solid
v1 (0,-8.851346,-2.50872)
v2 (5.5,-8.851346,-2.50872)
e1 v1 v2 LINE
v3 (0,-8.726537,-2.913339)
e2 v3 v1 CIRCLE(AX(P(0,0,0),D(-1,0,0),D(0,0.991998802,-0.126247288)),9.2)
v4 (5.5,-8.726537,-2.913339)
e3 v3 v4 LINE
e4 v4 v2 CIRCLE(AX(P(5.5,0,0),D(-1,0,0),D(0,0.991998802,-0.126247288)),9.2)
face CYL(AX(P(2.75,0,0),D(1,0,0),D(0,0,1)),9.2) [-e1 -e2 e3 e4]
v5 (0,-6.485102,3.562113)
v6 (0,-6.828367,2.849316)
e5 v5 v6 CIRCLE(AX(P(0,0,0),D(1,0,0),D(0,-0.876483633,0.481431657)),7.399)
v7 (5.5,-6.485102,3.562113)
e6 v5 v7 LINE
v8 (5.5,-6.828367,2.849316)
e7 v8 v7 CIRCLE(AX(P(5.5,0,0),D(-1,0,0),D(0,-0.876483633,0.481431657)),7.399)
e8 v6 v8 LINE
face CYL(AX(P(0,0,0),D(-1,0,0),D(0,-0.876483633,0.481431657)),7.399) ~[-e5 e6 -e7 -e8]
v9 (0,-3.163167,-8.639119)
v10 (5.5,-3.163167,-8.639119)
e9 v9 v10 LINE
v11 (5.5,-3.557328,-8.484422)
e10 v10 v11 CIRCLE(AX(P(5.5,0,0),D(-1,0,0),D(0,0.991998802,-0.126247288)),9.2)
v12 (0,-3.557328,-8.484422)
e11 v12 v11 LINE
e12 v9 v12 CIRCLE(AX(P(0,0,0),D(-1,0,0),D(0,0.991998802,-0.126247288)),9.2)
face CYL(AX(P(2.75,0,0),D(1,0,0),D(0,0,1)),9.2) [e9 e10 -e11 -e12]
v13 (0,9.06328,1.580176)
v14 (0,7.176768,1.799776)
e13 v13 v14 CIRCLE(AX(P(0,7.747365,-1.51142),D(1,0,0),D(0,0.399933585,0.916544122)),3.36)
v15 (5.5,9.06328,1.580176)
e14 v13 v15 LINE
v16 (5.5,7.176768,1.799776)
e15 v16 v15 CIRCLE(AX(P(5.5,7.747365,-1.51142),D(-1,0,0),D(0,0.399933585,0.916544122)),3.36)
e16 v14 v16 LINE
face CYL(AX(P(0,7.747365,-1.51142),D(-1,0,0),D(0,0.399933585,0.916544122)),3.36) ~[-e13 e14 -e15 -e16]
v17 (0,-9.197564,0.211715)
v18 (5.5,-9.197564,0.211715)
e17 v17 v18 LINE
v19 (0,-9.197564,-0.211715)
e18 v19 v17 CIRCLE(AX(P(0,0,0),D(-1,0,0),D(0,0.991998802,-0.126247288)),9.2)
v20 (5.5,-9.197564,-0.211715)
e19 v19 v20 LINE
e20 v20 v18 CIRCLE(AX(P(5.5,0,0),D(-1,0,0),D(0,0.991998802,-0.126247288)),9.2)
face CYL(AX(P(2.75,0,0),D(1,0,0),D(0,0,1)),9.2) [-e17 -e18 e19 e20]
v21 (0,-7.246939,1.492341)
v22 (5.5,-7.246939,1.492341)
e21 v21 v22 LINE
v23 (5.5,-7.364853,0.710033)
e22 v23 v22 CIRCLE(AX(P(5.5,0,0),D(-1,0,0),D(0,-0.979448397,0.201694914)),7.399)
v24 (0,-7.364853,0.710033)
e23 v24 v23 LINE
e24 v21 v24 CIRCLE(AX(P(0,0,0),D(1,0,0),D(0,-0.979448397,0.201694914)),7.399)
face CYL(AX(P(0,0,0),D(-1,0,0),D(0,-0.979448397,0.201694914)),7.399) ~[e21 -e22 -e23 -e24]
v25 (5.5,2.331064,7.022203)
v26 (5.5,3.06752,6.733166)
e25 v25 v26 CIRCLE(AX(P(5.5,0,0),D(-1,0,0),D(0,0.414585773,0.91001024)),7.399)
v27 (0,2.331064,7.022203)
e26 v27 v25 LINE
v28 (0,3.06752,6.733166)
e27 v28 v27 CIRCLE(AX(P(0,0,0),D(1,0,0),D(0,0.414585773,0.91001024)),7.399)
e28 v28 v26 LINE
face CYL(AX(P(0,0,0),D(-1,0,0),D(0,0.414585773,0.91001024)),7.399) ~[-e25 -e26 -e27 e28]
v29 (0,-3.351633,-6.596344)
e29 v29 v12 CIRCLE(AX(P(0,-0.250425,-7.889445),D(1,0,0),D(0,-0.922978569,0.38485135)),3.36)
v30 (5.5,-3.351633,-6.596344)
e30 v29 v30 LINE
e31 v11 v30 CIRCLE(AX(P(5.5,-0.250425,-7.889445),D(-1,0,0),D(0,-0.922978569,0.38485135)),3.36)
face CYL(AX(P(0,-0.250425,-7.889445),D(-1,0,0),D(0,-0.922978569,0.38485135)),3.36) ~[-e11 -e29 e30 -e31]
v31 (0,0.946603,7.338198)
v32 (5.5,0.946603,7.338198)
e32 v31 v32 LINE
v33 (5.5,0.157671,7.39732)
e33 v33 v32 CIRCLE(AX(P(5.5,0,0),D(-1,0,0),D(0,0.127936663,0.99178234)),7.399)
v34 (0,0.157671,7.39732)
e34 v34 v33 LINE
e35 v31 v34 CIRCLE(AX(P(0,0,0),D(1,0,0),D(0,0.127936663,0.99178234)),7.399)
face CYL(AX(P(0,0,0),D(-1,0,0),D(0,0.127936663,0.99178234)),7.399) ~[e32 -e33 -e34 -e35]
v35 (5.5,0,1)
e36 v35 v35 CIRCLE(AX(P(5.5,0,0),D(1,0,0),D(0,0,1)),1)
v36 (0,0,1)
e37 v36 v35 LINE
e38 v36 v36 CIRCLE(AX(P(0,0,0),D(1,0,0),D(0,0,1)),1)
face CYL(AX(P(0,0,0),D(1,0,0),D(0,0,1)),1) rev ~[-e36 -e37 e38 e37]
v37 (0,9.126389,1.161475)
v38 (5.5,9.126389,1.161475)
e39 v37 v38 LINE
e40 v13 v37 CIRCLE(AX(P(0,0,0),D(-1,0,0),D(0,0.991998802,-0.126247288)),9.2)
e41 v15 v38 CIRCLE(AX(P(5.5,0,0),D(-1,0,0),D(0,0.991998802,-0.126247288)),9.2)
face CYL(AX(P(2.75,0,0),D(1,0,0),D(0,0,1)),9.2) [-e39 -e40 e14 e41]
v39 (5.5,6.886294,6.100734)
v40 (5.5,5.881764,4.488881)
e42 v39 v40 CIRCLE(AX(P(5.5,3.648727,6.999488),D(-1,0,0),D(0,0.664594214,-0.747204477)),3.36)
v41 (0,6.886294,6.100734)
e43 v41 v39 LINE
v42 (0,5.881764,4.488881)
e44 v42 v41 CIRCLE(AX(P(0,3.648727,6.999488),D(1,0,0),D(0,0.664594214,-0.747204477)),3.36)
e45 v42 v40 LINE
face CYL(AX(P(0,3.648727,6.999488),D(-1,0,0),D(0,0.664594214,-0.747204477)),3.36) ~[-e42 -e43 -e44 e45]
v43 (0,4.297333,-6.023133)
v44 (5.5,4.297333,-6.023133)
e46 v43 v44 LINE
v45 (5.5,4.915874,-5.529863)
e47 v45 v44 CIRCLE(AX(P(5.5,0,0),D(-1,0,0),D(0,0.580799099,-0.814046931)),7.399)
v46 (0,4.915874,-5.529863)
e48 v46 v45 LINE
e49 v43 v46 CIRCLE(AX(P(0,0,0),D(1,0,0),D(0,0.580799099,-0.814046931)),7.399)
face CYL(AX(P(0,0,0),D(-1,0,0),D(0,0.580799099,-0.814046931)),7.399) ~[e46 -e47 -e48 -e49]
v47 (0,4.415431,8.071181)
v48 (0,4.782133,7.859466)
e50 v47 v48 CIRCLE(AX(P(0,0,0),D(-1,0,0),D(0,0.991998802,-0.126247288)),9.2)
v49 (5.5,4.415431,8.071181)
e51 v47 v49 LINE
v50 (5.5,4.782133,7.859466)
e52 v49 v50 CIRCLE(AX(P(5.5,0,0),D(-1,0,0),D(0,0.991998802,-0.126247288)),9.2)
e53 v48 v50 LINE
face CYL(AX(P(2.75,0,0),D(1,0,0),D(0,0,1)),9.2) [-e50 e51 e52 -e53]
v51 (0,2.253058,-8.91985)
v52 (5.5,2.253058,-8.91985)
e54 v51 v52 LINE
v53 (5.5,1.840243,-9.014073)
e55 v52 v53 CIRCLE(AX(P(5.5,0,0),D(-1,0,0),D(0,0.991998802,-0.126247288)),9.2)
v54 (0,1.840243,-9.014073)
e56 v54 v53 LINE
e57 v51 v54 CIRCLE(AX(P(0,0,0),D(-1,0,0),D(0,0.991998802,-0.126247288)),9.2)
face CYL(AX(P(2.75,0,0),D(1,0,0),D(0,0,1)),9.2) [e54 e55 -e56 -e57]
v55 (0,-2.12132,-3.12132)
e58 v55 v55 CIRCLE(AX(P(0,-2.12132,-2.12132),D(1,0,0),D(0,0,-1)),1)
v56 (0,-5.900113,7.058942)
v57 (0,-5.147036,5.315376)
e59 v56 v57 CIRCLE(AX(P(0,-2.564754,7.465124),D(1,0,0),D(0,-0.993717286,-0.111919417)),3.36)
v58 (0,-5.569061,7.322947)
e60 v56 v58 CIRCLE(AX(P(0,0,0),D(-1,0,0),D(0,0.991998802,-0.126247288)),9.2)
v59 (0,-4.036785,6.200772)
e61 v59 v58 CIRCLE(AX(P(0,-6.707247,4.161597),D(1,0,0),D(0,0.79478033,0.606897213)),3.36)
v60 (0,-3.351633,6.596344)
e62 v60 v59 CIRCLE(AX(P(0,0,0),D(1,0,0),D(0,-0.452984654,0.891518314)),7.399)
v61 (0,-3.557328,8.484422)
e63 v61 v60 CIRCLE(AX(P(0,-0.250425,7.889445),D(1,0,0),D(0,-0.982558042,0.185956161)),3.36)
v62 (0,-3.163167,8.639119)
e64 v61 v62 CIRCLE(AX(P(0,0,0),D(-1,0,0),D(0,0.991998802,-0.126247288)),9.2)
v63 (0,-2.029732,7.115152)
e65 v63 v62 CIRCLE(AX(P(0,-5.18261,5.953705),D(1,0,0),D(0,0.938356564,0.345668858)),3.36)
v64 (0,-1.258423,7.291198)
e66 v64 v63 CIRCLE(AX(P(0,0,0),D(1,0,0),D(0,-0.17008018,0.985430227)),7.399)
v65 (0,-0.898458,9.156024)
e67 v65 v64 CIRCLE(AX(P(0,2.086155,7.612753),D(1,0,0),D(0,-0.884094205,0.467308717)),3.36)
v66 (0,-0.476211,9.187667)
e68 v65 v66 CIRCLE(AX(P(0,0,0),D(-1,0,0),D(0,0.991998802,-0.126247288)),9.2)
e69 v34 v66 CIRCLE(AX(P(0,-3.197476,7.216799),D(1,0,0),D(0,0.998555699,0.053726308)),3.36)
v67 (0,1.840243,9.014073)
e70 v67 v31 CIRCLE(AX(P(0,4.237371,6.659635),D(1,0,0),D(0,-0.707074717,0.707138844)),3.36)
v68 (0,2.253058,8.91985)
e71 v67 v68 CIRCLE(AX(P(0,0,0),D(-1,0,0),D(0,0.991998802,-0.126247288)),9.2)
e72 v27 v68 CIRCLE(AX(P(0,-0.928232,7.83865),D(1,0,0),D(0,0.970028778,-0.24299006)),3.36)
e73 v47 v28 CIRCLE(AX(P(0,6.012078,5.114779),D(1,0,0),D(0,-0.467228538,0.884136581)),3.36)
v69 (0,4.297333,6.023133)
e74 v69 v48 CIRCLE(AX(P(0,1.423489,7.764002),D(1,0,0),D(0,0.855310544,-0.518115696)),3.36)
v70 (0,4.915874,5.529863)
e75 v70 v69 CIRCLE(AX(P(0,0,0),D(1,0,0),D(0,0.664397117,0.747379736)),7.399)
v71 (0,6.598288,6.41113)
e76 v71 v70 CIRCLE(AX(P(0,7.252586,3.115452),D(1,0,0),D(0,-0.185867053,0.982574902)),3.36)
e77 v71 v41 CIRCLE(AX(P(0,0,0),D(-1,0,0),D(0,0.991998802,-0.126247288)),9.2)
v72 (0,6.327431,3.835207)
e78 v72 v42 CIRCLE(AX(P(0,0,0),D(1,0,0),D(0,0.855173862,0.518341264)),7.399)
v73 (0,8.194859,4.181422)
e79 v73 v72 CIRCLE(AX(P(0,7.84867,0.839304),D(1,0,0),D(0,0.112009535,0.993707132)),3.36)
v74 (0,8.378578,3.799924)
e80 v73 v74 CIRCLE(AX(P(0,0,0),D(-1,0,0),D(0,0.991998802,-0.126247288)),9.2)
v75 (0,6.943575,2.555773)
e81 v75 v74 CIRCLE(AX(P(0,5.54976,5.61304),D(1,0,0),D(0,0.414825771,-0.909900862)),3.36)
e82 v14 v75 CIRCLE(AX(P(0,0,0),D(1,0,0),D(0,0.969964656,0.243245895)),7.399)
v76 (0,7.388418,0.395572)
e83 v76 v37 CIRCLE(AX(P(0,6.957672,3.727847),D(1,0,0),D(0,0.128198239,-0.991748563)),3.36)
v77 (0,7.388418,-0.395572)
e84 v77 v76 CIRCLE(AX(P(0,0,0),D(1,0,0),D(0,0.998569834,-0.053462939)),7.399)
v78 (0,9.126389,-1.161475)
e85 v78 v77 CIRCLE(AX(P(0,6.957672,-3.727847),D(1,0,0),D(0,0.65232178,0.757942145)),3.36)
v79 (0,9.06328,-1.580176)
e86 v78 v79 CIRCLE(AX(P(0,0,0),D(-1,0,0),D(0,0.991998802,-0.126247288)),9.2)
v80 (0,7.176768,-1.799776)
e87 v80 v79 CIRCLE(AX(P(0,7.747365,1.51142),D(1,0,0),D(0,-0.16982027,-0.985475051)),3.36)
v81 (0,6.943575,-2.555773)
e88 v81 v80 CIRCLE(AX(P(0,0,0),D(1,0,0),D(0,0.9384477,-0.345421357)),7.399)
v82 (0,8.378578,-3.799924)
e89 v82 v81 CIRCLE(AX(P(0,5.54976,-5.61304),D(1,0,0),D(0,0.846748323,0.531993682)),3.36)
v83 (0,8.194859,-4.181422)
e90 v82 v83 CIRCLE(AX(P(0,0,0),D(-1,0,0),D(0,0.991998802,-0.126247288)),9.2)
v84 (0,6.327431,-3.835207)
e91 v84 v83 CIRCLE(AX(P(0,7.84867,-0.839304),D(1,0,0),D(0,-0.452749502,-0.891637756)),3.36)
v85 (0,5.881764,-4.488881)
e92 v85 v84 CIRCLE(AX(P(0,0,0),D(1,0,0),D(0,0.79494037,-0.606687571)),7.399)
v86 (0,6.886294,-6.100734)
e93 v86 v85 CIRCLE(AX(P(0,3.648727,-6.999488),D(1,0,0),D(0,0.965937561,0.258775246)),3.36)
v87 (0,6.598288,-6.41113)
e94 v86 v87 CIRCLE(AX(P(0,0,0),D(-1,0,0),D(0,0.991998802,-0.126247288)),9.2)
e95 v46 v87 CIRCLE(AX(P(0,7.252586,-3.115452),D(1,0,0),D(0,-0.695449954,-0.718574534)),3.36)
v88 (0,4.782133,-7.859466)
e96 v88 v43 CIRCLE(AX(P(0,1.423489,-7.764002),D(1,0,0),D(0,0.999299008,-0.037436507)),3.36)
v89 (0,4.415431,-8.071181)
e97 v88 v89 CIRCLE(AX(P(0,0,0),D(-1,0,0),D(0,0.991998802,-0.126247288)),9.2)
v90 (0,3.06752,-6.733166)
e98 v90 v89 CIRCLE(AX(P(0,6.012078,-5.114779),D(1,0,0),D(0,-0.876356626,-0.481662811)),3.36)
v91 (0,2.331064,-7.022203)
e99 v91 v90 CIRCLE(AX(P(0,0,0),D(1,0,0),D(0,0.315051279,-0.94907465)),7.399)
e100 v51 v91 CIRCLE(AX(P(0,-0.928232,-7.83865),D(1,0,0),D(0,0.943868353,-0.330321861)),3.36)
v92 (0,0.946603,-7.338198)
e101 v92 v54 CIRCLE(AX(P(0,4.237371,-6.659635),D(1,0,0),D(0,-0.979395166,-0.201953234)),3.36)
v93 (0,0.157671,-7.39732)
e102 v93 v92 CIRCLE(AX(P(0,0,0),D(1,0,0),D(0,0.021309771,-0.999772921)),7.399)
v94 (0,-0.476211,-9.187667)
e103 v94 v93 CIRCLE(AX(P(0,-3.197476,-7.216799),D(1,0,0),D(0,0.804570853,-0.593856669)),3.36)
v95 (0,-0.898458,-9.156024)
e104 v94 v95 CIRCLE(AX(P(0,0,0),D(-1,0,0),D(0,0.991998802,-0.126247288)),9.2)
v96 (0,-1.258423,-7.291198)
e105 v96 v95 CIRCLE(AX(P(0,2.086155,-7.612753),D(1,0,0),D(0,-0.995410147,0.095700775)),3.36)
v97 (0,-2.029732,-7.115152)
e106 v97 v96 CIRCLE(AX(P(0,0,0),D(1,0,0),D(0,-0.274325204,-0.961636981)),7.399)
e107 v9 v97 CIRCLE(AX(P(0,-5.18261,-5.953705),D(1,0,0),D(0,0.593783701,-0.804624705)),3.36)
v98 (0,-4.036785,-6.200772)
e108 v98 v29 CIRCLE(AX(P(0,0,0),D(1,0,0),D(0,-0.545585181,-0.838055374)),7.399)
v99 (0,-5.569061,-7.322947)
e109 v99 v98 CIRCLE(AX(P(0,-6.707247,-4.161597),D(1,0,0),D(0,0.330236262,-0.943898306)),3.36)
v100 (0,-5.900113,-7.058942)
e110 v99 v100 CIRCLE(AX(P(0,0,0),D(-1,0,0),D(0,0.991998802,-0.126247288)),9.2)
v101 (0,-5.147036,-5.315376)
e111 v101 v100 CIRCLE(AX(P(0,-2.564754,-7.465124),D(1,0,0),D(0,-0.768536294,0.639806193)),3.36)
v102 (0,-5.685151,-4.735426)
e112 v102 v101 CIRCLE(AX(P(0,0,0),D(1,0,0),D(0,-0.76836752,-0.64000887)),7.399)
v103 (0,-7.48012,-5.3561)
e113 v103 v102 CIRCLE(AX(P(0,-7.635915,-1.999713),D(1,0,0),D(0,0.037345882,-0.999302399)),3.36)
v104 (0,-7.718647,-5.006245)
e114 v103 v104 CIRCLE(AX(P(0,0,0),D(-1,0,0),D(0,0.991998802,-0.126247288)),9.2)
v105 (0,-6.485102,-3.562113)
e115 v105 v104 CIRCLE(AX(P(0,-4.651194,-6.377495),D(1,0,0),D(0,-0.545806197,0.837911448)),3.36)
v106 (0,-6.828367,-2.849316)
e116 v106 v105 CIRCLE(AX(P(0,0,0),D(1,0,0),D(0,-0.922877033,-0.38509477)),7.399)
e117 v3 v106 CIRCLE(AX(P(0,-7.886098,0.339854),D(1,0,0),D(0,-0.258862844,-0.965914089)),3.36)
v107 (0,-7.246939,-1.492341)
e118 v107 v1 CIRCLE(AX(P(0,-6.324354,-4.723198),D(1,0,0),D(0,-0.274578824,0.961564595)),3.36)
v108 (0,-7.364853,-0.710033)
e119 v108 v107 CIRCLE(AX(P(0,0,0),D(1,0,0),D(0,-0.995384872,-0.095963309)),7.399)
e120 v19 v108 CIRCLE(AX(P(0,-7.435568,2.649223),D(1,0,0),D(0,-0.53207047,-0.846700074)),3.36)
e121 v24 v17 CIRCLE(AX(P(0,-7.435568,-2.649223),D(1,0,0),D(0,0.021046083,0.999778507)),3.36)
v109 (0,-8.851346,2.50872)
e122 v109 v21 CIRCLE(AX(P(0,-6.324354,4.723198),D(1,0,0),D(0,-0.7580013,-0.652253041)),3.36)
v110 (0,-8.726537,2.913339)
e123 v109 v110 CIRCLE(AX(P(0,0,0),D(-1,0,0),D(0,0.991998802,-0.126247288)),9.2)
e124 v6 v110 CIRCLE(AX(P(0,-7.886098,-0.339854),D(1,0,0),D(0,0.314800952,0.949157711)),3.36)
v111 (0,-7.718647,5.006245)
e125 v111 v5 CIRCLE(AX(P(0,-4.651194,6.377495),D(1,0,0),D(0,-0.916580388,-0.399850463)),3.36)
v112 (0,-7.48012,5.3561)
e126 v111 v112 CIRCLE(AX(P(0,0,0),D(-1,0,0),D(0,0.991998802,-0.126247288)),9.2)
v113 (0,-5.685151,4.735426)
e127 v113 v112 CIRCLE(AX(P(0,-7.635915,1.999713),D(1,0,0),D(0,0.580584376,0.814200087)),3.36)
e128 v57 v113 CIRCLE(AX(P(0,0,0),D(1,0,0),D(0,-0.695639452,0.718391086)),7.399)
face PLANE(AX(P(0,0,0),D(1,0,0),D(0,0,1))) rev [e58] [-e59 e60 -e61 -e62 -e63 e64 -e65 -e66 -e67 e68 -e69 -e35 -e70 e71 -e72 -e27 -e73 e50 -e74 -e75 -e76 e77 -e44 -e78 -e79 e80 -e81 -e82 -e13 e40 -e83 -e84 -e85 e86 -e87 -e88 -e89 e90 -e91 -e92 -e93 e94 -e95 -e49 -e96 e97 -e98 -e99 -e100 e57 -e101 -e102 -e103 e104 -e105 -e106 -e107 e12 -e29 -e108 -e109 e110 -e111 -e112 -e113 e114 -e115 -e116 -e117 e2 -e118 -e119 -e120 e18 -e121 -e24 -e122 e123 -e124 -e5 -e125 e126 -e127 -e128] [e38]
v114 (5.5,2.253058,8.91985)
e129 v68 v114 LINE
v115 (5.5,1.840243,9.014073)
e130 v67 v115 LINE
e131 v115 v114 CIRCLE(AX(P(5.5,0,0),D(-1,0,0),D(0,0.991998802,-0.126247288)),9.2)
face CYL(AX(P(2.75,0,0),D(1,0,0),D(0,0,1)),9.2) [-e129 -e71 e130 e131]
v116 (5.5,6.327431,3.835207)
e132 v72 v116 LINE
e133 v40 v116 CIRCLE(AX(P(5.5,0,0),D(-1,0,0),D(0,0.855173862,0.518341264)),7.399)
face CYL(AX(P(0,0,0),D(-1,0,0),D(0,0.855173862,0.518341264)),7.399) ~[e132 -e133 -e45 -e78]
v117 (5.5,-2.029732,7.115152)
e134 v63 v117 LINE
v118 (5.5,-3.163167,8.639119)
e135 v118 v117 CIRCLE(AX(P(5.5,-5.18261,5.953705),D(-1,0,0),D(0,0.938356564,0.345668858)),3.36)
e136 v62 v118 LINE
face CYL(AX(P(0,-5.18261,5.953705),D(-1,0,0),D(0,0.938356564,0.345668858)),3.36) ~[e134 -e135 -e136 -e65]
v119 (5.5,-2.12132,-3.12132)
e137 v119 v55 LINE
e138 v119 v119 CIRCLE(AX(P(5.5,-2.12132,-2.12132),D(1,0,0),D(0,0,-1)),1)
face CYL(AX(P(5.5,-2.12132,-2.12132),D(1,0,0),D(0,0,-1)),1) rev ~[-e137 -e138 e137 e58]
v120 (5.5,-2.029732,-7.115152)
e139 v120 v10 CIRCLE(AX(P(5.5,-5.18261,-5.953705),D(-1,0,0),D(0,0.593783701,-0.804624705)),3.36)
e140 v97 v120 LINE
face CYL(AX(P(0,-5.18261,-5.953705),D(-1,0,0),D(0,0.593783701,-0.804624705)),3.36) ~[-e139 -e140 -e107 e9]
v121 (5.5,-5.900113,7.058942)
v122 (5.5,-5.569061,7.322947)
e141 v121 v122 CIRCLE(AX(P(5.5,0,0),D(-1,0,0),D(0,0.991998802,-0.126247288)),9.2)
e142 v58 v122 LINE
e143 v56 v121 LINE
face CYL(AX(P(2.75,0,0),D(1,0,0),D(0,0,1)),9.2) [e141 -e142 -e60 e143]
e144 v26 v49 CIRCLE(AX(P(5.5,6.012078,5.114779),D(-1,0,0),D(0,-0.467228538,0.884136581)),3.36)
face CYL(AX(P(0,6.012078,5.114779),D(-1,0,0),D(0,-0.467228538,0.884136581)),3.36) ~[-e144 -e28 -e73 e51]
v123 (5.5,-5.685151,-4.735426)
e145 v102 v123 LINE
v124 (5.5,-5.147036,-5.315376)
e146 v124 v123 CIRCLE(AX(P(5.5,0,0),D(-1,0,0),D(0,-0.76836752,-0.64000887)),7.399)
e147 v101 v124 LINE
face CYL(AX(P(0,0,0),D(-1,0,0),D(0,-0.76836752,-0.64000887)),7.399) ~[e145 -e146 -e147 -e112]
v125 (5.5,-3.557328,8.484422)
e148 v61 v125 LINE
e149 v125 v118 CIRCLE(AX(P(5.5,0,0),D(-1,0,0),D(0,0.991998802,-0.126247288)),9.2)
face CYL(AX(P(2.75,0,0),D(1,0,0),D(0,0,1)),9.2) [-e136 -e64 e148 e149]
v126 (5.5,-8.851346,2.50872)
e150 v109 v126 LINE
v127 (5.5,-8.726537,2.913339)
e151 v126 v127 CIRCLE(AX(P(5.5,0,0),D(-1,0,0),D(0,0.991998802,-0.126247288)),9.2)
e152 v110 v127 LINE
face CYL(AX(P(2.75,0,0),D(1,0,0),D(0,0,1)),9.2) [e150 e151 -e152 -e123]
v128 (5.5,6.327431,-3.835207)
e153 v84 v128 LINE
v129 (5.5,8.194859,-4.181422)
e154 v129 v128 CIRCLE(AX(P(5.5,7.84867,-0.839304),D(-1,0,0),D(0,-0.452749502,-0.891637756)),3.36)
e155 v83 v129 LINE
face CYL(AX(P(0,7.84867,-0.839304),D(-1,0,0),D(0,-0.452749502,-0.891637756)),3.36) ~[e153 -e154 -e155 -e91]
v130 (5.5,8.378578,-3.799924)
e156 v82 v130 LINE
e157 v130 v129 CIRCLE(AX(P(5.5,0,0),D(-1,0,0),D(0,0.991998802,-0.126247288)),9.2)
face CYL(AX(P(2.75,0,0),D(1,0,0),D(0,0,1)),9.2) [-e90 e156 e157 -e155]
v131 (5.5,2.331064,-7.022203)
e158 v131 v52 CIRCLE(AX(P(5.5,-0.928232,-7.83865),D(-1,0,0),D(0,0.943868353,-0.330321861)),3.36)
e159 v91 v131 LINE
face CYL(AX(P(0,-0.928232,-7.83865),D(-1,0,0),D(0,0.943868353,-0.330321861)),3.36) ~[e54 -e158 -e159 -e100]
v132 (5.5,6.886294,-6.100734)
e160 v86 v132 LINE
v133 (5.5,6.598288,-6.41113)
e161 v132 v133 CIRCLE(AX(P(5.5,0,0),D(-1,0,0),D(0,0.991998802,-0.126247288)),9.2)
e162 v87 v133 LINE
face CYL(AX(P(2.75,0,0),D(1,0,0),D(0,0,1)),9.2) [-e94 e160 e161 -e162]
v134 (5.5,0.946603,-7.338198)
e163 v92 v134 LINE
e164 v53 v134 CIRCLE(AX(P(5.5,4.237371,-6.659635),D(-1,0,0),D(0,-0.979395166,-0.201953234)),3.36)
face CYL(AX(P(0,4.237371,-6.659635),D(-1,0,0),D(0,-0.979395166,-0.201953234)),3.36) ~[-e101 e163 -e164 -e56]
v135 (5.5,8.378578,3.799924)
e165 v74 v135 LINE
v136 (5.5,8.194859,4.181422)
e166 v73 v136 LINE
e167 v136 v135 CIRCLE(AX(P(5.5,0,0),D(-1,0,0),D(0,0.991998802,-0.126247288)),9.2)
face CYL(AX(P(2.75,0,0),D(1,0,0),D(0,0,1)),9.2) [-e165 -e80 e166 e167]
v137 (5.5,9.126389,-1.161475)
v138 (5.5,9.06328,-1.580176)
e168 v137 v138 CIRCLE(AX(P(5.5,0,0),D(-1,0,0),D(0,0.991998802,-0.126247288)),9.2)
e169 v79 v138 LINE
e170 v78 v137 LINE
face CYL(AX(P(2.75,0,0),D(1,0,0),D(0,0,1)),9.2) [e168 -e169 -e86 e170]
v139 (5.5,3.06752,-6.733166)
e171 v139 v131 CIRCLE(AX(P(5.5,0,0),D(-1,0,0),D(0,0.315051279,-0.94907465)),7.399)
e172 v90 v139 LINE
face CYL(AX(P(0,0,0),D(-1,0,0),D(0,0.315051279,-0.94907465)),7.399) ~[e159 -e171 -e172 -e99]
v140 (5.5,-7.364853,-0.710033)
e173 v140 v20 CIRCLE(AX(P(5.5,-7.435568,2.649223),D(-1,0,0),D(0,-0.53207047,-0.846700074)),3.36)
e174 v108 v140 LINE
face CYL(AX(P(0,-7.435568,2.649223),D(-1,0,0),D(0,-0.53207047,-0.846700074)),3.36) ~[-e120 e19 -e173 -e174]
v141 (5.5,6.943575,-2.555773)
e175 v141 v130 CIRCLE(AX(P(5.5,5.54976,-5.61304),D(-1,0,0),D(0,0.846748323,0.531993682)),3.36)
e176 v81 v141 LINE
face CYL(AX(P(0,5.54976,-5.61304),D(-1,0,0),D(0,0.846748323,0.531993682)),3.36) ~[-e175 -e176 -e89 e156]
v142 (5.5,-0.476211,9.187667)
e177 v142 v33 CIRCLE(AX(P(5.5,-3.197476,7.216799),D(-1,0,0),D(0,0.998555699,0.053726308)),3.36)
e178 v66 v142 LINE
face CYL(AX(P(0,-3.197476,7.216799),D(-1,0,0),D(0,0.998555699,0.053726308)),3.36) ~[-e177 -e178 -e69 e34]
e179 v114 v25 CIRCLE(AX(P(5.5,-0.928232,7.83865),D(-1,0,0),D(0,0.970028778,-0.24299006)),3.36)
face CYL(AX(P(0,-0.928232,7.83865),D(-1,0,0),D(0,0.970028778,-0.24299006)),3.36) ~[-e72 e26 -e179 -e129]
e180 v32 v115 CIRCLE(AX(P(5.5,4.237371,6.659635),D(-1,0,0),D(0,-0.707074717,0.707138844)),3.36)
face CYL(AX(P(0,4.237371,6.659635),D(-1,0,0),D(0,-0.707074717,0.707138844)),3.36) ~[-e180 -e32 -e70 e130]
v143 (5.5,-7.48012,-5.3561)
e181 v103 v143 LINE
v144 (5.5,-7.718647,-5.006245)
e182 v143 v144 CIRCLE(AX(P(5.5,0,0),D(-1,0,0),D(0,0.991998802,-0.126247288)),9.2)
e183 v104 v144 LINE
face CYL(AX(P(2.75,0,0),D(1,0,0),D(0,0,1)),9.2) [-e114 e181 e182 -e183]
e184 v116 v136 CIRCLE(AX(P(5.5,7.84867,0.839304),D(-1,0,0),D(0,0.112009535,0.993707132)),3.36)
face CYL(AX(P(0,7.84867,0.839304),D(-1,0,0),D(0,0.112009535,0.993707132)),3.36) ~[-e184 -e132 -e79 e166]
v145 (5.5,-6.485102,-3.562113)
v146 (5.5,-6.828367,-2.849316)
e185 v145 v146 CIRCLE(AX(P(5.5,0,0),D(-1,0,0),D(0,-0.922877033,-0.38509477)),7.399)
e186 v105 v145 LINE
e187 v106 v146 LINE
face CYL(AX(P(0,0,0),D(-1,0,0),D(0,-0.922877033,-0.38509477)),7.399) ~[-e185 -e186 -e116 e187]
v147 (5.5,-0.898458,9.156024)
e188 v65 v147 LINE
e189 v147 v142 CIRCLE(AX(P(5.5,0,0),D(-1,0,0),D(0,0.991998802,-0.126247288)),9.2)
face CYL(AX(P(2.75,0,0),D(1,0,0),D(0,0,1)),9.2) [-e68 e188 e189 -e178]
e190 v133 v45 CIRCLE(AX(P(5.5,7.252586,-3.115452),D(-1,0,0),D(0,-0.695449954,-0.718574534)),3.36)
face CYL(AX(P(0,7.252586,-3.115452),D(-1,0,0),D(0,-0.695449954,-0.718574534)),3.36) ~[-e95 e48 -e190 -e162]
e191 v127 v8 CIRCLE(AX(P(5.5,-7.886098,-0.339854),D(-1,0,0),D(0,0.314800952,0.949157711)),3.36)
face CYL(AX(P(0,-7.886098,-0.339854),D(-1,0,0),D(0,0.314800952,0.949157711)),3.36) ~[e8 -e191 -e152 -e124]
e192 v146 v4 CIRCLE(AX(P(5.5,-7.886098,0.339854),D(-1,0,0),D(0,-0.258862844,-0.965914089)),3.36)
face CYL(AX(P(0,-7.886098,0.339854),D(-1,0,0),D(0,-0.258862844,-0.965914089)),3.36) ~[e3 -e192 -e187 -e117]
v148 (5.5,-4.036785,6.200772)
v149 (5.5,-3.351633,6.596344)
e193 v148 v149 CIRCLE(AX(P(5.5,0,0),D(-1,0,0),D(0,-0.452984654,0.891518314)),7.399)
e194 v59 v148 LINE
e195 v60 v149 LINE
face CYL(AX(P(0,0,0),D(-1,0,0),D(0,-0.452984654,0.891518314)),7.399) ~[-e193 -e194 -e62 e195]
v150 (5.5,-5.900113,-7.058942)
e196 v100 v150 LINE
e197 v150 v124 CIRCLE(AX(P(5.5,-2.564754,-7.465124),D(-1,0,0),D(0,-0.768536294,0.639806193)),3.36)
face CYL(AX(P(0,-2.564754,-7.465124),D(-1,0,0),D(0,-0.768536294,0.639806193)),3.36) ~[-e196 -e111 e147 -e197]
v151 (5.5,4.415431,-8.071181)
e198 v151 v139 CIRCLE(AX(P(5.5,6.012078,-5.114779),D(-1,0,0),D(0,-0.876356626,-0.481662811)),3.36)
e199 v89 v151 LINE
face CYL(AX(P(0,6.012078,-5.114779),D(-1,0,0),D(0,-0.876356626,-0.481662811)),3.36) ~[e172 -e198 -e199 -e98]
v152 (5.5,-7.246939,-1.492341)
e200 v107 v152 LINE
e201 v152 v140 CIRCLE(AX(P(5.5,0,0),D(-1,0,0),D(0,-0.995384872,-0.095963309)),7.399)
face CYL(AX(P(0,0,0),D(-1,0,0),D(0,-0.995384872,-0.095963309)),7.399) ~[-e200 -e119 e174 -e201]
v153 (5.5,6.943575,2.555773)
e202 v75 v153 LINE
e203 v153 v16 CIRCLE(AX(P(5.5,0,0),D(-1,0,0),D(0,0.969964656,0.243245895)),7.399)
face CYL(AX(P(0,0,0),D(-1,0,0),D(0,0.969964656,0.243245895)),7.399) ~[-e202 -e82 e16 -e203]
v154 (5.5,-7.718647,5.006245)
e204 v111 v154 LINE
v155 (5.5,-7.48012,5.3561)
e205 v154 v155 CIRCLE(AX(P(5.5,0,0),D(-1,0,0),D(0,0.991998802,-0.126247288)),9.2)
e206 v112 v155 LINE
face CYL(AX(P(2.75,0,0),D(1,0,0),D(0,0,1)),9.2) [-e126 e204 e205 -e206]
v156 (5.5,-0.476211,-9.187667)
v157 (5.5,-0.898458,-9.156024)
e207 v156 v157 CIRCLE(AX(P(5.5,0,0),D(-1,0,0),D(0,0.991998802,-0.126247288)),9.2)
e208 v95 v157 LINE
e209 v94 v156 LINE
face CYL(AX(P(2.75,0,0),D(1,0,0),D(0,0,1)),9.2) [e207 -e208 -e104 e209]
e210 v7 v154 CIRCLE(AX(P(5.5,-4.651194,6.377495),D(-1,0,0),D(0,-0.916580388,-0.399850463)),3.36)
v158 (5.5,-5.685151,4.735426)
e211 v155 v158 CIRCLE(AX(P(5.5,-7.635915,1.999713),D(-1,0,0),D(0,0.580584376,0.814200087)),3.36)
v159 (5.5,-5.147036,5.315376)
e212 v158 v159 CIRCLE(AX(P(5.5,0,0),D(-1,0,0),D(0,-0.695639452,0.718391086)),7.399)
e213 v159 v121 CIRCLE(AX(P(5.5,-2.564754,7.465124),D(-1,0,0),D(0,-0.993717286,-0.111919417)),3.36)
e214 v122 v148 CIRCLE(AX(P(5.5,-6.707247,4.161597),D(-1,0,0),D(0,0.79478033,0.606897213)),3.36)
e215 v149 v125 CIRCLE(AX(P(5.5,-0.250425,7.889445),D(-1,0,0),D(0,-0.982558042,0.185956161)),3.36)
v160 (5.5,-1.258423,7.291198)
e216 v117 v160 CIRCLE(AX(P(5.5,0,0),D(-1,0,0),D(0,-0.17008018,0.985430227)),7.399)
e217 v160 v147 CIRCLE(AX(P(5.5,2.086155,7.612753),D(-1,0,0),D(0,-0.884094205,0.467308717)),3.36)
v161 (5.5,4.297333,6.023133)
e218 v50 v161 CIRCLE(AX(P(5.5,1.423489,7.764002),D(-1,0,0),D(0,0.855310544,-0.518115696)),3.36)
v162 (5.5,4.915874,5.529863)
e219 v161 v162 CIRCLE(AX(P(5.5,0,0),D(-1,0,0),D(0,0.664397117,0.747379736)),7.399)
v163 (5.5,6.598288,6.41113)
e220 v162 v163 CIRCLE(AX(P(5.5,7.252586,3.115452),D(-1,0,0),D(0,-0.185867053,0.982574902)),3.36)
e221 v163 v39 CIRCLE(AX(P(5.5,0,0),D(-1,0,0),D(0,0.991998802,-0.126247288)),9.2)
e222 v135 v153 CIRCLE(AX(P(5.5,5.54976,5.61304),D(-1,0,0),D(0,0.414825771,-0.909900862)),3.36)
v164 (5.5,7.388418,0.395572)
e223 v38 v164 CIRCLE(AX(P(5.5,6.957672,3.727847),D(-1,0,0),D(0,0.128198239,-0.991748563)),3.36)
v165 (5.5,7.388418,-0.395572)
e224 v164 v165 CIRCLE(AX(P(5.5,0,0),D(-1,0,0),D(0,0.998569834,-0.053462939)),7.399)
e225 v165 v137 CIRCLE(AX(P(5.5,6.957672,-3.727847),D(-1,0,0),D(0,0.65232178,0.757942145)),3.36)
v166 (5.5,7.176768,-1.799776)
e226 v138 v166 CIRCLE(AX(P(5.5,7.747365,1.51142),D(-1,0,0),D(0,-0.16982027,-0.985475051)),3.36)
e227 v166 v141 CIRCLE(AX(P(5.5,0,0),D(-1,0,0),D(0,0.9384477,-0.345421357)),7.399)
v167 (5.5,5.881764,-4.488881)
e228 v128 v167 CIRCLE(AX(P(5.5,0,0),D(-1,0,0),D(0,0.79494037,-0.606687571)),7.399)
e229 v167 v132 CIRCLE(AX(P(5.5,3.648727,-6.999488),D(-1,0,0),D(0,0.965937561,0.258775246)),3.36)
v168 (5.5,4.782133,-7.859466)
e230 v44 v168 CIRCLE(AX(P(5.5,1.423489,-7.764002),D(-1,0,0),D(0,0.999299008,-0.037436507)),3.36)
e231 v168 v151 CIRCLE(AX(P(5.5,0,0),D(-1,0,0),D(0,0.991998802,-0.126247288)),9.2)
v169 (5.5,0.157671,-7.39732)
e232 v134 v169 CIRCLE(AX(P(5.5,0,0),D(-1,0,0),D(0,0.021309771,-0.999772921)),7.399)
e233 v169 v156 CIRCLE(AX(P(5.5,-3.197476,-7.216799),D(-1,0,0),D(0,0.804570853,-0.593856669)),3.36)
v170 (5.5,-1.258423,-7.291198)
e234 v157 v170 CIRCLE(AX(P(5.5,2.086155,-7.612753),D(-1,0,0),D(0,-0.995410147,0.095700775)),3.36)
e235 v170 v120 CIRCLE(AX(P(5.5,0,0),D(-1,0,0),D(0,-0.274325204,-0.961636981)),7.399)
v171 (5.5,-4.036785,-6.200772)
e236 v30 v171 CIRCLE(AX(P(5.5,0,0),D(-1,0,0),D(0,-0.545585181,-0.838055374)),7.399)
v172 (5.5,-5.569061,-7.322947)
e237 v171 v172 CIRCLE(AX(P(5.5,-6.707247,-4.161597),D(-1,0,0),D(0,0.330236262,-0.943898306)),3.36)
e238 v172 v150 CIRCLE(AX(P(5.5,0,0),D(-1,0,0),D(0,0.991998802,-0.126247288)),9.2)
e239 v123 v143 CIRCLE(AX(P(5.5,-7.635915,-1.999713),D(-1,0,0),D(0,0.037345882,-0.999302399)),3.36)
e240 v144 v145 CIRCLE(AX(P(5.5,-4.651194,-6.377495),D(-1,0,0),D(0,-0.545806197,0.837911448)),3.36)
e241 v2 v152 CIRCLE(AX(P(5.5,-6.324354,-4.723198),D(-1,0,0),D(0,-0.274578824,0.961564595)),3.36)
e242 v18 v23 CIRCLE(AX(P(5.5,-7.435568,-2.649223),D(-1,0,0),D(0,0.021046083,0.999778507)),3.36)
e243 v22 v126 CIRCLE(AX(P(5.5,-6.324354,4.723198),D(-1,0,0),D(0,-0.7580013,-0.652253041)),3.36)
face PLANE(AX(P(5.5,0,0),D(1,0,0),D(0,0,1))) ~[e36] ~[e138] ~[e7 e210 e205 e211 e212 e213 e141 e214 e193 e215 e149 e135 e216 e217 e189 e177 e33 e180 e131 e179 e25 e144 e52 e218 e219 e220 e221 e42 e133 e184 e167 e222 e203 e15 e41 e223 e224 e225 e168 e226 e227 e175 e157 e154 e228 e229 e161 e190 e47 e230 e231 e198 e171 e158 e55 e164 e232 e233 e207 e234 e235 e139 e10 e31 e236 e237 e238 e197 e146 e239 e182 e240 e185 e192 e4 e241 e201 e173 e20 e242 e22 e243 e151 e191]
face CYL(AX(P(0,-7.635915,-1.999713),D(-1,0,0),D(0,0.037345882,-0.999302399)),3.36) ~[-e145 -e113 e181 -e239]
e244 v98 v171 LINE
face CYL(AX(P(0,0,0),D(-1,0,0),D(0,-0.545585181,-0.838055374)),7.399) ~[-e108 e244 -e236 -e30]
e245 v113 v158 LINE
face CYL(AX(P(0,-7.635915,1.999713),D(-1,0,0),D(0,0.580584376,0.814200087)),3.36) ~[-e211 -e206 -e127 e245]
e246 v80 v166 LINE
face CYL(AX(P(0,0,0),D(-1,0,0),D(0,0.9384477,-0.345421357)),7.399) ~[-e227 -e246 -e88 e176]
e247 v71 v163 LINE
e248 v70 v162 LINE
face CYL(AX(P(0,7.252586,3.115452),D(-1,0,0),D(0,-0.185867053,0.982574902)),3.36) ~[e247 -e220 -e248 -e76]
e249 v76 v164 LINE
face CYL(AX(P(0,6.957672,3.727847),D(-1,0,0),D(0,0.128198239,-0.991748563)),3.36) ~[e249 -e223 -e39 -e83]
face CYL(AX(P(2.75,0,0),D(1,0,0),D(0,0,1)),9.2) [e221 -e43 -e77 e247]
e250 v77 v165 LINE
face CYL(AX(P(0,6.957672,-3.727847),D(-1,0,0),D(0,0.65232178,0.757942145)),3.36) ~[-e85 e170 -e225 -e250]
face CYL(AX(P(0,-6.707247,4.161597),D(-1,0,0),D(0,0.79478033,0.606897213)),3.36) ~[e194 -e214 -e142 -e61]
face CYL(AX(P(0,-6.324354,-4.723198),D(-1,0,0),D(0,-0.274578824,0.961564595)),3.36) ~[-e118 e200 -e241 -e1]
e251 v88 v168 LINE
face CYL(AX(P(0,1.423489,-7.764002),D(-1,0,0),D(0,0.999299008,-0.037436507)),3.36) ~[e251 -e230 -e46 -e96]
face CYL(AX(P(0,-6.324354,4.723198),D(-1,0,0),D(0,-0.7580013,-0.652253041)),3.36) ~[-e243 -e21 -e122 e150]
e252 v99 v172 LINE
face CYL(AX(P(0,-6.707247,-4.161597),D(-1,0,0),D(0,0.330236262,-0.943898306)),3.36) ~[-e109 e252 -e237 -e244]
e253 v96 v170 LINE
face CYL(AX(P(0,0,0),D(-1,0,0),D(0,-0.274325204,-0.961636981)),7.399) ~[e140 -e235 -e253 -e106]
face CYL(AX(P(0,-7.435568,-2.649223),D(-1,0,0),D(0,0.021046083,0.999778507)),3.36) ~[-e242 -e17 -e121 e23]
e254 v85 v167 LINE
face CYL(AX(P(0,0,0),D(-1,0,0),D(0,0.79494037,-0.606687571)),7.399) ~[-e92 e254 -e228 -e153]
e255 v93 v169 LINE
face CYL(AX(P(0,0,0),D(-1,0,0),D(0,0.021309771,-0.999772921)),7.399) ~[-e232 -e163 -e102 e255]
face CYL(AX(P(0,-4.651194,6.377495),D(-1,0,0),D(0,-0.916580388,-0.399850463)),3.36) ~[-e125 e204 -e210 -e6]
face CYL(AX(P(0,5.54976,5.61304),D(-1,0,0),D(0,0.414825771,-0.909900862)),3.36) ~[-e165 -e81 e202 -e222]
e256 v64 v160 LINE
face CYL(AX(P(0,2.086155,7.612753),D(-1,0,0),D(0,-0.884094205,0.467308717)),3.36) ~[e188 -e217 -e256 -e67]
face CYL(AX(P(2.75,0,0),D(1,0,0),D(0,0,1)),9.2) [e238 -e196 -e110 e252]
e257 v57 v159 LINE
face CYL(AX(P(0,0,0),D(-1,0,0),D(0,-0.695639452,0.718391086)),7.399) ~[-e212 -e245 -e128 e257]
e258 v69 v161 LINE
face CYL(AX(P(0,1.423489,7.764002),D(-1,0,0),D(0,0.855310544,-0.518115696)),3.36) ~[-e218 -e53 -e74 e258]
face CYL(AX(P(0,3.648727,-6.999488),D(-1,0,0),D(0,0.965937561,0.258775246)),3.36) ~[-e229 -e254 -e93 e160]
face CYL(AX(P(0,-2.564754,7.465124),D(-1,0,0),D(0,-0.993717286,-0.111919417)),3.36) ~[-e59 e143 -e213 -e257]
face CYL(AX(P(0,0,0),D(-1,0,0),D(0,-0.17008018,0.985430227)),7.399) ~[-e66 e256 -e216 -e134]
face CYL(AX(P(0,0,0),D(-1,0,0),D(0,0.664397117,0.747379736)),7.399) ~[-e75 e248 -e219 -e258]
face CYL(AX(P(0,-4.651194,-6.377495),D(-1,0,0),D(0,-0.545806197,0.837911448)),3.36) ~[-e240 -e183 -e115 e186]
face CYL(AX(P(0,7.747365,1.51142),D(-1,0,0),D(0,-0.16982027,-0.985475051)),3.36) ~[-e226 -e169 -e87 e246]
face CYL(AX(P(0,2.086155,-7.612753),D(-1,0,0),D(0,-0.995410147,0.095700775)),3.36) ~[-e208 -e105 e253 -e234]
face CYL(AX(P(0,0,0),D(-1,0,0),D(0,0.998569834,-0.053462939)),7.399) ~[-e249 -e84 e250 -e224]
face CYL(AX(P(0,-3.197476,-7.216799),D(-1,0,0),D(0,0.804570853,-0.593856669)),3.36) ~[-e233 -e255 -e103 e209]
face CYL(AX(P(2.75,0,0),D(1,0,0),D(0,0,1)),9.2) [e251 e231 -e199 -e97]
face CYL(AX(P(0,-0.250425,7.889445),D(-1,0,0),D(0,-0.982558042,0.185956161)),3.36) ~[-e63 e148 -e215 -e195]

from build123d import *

# Parameters (mm, degrees)
BASPROSKE_W        = 5.5
BASPROSKE_H        = 9.2
TOOTHCUT_DEPTH     = 15.12550884
TEETHCUTS_COUNT    = 21
TEETHCUTS_ANGLE    = 342.857142857
BORSKE_R           = 1
BORE_DEPTH         = 50.0000508
SKETCH1_R          = 1
CUT_EXTRUDE1_DEPTH = 5.5


with BuildPart() as part:
    # BasProSke → Base-Revolve (revolve)
    with BuildSketch(Plane(origin=(0, 0, 0), x_dir=(1, 0, 0), z_dir=(0, 1, 0)), mode=Mode.PRIVATE) as base_revolve_sk:
        with Locations((2.75, 4.6)):
            Rectangle(BASPROSKE_W, BASPROSKE_H)
    revolve(base_revolve_sk.sketch.rotate(Axis((-10, 0, 0), (1, 0, 0)), 180), axis=Axis((-10, 0, 0), (1, 0, 0)))

    # TooCutSke → ToothCut (cut, through all)
    with BuildSketch(Plane(origin=(0, 0, 0), x_dir=(0, 0, -1), z_dir=(1, 0, 0))):
        with BuildLine():
            ThreePointArc((0.39557227, 7.388418205), (0, 7.399), (-0.39557227, 7.388418205))
            ThreePointArc((-0.39557227, 7.388418205), (-0.659317872, 8.326513344), (-1.181161837, 9.149473311))
            ThreePointArc((-1.181161837, 9.149473311), (0, 9.2254), (1.181161837, 9.149473311))
            ThreePointArc((1.181161837, 9.149473311), (0.659317872, 8.326513344), (0.39557227, 7.388418205))
        make_face()
    toothcut = extrude(amount=TOOTHCUT_DEPTH, mode=Mode.SUBTRACT)

    # TeethCuts: ToothCut ×21 about axis
    teethcuts_axis = Axis((-10, 0, 0), (1, 0, 0))
    for i in range(1, TEETHCUTS_COUNT):
        add(toothcut.rotate(teethcuts_axis, i * TEETHCUTS_ANGLE / (TEETHCUTS_COUNT - 1)), mode=Mode.SUBTRACT)

    # BorSke → Bore (cut, symmetric)
    with BuildSketch(Plane(origin=(0, 0, 0), x_dir=(0, 0, -1), z_dir=(1, 0, 0))):
        with Locations(Location((0, 0, 0), (0, 0, 180))):
            Circle(BORSKE_R)
    extrude(amount=BORE_DEPTH, both=True, mode=Mode.SUBTRACT)

    # Sketch1 → Cut-Extrude1 (cut)
    with BuildSketch(Plane(origin=(5.5, 0, 0), x_dir=(0, 0, -1), z_dir=(1, 0, 0))):
        with Locations((2.121320344, -2.121320344)):
            Circle(SKETCH1_R)
    extrude(amount=-CUT_EXTRUDE1_DEPTH, mode=Mode.SUBTRACT)


solid = part.part
